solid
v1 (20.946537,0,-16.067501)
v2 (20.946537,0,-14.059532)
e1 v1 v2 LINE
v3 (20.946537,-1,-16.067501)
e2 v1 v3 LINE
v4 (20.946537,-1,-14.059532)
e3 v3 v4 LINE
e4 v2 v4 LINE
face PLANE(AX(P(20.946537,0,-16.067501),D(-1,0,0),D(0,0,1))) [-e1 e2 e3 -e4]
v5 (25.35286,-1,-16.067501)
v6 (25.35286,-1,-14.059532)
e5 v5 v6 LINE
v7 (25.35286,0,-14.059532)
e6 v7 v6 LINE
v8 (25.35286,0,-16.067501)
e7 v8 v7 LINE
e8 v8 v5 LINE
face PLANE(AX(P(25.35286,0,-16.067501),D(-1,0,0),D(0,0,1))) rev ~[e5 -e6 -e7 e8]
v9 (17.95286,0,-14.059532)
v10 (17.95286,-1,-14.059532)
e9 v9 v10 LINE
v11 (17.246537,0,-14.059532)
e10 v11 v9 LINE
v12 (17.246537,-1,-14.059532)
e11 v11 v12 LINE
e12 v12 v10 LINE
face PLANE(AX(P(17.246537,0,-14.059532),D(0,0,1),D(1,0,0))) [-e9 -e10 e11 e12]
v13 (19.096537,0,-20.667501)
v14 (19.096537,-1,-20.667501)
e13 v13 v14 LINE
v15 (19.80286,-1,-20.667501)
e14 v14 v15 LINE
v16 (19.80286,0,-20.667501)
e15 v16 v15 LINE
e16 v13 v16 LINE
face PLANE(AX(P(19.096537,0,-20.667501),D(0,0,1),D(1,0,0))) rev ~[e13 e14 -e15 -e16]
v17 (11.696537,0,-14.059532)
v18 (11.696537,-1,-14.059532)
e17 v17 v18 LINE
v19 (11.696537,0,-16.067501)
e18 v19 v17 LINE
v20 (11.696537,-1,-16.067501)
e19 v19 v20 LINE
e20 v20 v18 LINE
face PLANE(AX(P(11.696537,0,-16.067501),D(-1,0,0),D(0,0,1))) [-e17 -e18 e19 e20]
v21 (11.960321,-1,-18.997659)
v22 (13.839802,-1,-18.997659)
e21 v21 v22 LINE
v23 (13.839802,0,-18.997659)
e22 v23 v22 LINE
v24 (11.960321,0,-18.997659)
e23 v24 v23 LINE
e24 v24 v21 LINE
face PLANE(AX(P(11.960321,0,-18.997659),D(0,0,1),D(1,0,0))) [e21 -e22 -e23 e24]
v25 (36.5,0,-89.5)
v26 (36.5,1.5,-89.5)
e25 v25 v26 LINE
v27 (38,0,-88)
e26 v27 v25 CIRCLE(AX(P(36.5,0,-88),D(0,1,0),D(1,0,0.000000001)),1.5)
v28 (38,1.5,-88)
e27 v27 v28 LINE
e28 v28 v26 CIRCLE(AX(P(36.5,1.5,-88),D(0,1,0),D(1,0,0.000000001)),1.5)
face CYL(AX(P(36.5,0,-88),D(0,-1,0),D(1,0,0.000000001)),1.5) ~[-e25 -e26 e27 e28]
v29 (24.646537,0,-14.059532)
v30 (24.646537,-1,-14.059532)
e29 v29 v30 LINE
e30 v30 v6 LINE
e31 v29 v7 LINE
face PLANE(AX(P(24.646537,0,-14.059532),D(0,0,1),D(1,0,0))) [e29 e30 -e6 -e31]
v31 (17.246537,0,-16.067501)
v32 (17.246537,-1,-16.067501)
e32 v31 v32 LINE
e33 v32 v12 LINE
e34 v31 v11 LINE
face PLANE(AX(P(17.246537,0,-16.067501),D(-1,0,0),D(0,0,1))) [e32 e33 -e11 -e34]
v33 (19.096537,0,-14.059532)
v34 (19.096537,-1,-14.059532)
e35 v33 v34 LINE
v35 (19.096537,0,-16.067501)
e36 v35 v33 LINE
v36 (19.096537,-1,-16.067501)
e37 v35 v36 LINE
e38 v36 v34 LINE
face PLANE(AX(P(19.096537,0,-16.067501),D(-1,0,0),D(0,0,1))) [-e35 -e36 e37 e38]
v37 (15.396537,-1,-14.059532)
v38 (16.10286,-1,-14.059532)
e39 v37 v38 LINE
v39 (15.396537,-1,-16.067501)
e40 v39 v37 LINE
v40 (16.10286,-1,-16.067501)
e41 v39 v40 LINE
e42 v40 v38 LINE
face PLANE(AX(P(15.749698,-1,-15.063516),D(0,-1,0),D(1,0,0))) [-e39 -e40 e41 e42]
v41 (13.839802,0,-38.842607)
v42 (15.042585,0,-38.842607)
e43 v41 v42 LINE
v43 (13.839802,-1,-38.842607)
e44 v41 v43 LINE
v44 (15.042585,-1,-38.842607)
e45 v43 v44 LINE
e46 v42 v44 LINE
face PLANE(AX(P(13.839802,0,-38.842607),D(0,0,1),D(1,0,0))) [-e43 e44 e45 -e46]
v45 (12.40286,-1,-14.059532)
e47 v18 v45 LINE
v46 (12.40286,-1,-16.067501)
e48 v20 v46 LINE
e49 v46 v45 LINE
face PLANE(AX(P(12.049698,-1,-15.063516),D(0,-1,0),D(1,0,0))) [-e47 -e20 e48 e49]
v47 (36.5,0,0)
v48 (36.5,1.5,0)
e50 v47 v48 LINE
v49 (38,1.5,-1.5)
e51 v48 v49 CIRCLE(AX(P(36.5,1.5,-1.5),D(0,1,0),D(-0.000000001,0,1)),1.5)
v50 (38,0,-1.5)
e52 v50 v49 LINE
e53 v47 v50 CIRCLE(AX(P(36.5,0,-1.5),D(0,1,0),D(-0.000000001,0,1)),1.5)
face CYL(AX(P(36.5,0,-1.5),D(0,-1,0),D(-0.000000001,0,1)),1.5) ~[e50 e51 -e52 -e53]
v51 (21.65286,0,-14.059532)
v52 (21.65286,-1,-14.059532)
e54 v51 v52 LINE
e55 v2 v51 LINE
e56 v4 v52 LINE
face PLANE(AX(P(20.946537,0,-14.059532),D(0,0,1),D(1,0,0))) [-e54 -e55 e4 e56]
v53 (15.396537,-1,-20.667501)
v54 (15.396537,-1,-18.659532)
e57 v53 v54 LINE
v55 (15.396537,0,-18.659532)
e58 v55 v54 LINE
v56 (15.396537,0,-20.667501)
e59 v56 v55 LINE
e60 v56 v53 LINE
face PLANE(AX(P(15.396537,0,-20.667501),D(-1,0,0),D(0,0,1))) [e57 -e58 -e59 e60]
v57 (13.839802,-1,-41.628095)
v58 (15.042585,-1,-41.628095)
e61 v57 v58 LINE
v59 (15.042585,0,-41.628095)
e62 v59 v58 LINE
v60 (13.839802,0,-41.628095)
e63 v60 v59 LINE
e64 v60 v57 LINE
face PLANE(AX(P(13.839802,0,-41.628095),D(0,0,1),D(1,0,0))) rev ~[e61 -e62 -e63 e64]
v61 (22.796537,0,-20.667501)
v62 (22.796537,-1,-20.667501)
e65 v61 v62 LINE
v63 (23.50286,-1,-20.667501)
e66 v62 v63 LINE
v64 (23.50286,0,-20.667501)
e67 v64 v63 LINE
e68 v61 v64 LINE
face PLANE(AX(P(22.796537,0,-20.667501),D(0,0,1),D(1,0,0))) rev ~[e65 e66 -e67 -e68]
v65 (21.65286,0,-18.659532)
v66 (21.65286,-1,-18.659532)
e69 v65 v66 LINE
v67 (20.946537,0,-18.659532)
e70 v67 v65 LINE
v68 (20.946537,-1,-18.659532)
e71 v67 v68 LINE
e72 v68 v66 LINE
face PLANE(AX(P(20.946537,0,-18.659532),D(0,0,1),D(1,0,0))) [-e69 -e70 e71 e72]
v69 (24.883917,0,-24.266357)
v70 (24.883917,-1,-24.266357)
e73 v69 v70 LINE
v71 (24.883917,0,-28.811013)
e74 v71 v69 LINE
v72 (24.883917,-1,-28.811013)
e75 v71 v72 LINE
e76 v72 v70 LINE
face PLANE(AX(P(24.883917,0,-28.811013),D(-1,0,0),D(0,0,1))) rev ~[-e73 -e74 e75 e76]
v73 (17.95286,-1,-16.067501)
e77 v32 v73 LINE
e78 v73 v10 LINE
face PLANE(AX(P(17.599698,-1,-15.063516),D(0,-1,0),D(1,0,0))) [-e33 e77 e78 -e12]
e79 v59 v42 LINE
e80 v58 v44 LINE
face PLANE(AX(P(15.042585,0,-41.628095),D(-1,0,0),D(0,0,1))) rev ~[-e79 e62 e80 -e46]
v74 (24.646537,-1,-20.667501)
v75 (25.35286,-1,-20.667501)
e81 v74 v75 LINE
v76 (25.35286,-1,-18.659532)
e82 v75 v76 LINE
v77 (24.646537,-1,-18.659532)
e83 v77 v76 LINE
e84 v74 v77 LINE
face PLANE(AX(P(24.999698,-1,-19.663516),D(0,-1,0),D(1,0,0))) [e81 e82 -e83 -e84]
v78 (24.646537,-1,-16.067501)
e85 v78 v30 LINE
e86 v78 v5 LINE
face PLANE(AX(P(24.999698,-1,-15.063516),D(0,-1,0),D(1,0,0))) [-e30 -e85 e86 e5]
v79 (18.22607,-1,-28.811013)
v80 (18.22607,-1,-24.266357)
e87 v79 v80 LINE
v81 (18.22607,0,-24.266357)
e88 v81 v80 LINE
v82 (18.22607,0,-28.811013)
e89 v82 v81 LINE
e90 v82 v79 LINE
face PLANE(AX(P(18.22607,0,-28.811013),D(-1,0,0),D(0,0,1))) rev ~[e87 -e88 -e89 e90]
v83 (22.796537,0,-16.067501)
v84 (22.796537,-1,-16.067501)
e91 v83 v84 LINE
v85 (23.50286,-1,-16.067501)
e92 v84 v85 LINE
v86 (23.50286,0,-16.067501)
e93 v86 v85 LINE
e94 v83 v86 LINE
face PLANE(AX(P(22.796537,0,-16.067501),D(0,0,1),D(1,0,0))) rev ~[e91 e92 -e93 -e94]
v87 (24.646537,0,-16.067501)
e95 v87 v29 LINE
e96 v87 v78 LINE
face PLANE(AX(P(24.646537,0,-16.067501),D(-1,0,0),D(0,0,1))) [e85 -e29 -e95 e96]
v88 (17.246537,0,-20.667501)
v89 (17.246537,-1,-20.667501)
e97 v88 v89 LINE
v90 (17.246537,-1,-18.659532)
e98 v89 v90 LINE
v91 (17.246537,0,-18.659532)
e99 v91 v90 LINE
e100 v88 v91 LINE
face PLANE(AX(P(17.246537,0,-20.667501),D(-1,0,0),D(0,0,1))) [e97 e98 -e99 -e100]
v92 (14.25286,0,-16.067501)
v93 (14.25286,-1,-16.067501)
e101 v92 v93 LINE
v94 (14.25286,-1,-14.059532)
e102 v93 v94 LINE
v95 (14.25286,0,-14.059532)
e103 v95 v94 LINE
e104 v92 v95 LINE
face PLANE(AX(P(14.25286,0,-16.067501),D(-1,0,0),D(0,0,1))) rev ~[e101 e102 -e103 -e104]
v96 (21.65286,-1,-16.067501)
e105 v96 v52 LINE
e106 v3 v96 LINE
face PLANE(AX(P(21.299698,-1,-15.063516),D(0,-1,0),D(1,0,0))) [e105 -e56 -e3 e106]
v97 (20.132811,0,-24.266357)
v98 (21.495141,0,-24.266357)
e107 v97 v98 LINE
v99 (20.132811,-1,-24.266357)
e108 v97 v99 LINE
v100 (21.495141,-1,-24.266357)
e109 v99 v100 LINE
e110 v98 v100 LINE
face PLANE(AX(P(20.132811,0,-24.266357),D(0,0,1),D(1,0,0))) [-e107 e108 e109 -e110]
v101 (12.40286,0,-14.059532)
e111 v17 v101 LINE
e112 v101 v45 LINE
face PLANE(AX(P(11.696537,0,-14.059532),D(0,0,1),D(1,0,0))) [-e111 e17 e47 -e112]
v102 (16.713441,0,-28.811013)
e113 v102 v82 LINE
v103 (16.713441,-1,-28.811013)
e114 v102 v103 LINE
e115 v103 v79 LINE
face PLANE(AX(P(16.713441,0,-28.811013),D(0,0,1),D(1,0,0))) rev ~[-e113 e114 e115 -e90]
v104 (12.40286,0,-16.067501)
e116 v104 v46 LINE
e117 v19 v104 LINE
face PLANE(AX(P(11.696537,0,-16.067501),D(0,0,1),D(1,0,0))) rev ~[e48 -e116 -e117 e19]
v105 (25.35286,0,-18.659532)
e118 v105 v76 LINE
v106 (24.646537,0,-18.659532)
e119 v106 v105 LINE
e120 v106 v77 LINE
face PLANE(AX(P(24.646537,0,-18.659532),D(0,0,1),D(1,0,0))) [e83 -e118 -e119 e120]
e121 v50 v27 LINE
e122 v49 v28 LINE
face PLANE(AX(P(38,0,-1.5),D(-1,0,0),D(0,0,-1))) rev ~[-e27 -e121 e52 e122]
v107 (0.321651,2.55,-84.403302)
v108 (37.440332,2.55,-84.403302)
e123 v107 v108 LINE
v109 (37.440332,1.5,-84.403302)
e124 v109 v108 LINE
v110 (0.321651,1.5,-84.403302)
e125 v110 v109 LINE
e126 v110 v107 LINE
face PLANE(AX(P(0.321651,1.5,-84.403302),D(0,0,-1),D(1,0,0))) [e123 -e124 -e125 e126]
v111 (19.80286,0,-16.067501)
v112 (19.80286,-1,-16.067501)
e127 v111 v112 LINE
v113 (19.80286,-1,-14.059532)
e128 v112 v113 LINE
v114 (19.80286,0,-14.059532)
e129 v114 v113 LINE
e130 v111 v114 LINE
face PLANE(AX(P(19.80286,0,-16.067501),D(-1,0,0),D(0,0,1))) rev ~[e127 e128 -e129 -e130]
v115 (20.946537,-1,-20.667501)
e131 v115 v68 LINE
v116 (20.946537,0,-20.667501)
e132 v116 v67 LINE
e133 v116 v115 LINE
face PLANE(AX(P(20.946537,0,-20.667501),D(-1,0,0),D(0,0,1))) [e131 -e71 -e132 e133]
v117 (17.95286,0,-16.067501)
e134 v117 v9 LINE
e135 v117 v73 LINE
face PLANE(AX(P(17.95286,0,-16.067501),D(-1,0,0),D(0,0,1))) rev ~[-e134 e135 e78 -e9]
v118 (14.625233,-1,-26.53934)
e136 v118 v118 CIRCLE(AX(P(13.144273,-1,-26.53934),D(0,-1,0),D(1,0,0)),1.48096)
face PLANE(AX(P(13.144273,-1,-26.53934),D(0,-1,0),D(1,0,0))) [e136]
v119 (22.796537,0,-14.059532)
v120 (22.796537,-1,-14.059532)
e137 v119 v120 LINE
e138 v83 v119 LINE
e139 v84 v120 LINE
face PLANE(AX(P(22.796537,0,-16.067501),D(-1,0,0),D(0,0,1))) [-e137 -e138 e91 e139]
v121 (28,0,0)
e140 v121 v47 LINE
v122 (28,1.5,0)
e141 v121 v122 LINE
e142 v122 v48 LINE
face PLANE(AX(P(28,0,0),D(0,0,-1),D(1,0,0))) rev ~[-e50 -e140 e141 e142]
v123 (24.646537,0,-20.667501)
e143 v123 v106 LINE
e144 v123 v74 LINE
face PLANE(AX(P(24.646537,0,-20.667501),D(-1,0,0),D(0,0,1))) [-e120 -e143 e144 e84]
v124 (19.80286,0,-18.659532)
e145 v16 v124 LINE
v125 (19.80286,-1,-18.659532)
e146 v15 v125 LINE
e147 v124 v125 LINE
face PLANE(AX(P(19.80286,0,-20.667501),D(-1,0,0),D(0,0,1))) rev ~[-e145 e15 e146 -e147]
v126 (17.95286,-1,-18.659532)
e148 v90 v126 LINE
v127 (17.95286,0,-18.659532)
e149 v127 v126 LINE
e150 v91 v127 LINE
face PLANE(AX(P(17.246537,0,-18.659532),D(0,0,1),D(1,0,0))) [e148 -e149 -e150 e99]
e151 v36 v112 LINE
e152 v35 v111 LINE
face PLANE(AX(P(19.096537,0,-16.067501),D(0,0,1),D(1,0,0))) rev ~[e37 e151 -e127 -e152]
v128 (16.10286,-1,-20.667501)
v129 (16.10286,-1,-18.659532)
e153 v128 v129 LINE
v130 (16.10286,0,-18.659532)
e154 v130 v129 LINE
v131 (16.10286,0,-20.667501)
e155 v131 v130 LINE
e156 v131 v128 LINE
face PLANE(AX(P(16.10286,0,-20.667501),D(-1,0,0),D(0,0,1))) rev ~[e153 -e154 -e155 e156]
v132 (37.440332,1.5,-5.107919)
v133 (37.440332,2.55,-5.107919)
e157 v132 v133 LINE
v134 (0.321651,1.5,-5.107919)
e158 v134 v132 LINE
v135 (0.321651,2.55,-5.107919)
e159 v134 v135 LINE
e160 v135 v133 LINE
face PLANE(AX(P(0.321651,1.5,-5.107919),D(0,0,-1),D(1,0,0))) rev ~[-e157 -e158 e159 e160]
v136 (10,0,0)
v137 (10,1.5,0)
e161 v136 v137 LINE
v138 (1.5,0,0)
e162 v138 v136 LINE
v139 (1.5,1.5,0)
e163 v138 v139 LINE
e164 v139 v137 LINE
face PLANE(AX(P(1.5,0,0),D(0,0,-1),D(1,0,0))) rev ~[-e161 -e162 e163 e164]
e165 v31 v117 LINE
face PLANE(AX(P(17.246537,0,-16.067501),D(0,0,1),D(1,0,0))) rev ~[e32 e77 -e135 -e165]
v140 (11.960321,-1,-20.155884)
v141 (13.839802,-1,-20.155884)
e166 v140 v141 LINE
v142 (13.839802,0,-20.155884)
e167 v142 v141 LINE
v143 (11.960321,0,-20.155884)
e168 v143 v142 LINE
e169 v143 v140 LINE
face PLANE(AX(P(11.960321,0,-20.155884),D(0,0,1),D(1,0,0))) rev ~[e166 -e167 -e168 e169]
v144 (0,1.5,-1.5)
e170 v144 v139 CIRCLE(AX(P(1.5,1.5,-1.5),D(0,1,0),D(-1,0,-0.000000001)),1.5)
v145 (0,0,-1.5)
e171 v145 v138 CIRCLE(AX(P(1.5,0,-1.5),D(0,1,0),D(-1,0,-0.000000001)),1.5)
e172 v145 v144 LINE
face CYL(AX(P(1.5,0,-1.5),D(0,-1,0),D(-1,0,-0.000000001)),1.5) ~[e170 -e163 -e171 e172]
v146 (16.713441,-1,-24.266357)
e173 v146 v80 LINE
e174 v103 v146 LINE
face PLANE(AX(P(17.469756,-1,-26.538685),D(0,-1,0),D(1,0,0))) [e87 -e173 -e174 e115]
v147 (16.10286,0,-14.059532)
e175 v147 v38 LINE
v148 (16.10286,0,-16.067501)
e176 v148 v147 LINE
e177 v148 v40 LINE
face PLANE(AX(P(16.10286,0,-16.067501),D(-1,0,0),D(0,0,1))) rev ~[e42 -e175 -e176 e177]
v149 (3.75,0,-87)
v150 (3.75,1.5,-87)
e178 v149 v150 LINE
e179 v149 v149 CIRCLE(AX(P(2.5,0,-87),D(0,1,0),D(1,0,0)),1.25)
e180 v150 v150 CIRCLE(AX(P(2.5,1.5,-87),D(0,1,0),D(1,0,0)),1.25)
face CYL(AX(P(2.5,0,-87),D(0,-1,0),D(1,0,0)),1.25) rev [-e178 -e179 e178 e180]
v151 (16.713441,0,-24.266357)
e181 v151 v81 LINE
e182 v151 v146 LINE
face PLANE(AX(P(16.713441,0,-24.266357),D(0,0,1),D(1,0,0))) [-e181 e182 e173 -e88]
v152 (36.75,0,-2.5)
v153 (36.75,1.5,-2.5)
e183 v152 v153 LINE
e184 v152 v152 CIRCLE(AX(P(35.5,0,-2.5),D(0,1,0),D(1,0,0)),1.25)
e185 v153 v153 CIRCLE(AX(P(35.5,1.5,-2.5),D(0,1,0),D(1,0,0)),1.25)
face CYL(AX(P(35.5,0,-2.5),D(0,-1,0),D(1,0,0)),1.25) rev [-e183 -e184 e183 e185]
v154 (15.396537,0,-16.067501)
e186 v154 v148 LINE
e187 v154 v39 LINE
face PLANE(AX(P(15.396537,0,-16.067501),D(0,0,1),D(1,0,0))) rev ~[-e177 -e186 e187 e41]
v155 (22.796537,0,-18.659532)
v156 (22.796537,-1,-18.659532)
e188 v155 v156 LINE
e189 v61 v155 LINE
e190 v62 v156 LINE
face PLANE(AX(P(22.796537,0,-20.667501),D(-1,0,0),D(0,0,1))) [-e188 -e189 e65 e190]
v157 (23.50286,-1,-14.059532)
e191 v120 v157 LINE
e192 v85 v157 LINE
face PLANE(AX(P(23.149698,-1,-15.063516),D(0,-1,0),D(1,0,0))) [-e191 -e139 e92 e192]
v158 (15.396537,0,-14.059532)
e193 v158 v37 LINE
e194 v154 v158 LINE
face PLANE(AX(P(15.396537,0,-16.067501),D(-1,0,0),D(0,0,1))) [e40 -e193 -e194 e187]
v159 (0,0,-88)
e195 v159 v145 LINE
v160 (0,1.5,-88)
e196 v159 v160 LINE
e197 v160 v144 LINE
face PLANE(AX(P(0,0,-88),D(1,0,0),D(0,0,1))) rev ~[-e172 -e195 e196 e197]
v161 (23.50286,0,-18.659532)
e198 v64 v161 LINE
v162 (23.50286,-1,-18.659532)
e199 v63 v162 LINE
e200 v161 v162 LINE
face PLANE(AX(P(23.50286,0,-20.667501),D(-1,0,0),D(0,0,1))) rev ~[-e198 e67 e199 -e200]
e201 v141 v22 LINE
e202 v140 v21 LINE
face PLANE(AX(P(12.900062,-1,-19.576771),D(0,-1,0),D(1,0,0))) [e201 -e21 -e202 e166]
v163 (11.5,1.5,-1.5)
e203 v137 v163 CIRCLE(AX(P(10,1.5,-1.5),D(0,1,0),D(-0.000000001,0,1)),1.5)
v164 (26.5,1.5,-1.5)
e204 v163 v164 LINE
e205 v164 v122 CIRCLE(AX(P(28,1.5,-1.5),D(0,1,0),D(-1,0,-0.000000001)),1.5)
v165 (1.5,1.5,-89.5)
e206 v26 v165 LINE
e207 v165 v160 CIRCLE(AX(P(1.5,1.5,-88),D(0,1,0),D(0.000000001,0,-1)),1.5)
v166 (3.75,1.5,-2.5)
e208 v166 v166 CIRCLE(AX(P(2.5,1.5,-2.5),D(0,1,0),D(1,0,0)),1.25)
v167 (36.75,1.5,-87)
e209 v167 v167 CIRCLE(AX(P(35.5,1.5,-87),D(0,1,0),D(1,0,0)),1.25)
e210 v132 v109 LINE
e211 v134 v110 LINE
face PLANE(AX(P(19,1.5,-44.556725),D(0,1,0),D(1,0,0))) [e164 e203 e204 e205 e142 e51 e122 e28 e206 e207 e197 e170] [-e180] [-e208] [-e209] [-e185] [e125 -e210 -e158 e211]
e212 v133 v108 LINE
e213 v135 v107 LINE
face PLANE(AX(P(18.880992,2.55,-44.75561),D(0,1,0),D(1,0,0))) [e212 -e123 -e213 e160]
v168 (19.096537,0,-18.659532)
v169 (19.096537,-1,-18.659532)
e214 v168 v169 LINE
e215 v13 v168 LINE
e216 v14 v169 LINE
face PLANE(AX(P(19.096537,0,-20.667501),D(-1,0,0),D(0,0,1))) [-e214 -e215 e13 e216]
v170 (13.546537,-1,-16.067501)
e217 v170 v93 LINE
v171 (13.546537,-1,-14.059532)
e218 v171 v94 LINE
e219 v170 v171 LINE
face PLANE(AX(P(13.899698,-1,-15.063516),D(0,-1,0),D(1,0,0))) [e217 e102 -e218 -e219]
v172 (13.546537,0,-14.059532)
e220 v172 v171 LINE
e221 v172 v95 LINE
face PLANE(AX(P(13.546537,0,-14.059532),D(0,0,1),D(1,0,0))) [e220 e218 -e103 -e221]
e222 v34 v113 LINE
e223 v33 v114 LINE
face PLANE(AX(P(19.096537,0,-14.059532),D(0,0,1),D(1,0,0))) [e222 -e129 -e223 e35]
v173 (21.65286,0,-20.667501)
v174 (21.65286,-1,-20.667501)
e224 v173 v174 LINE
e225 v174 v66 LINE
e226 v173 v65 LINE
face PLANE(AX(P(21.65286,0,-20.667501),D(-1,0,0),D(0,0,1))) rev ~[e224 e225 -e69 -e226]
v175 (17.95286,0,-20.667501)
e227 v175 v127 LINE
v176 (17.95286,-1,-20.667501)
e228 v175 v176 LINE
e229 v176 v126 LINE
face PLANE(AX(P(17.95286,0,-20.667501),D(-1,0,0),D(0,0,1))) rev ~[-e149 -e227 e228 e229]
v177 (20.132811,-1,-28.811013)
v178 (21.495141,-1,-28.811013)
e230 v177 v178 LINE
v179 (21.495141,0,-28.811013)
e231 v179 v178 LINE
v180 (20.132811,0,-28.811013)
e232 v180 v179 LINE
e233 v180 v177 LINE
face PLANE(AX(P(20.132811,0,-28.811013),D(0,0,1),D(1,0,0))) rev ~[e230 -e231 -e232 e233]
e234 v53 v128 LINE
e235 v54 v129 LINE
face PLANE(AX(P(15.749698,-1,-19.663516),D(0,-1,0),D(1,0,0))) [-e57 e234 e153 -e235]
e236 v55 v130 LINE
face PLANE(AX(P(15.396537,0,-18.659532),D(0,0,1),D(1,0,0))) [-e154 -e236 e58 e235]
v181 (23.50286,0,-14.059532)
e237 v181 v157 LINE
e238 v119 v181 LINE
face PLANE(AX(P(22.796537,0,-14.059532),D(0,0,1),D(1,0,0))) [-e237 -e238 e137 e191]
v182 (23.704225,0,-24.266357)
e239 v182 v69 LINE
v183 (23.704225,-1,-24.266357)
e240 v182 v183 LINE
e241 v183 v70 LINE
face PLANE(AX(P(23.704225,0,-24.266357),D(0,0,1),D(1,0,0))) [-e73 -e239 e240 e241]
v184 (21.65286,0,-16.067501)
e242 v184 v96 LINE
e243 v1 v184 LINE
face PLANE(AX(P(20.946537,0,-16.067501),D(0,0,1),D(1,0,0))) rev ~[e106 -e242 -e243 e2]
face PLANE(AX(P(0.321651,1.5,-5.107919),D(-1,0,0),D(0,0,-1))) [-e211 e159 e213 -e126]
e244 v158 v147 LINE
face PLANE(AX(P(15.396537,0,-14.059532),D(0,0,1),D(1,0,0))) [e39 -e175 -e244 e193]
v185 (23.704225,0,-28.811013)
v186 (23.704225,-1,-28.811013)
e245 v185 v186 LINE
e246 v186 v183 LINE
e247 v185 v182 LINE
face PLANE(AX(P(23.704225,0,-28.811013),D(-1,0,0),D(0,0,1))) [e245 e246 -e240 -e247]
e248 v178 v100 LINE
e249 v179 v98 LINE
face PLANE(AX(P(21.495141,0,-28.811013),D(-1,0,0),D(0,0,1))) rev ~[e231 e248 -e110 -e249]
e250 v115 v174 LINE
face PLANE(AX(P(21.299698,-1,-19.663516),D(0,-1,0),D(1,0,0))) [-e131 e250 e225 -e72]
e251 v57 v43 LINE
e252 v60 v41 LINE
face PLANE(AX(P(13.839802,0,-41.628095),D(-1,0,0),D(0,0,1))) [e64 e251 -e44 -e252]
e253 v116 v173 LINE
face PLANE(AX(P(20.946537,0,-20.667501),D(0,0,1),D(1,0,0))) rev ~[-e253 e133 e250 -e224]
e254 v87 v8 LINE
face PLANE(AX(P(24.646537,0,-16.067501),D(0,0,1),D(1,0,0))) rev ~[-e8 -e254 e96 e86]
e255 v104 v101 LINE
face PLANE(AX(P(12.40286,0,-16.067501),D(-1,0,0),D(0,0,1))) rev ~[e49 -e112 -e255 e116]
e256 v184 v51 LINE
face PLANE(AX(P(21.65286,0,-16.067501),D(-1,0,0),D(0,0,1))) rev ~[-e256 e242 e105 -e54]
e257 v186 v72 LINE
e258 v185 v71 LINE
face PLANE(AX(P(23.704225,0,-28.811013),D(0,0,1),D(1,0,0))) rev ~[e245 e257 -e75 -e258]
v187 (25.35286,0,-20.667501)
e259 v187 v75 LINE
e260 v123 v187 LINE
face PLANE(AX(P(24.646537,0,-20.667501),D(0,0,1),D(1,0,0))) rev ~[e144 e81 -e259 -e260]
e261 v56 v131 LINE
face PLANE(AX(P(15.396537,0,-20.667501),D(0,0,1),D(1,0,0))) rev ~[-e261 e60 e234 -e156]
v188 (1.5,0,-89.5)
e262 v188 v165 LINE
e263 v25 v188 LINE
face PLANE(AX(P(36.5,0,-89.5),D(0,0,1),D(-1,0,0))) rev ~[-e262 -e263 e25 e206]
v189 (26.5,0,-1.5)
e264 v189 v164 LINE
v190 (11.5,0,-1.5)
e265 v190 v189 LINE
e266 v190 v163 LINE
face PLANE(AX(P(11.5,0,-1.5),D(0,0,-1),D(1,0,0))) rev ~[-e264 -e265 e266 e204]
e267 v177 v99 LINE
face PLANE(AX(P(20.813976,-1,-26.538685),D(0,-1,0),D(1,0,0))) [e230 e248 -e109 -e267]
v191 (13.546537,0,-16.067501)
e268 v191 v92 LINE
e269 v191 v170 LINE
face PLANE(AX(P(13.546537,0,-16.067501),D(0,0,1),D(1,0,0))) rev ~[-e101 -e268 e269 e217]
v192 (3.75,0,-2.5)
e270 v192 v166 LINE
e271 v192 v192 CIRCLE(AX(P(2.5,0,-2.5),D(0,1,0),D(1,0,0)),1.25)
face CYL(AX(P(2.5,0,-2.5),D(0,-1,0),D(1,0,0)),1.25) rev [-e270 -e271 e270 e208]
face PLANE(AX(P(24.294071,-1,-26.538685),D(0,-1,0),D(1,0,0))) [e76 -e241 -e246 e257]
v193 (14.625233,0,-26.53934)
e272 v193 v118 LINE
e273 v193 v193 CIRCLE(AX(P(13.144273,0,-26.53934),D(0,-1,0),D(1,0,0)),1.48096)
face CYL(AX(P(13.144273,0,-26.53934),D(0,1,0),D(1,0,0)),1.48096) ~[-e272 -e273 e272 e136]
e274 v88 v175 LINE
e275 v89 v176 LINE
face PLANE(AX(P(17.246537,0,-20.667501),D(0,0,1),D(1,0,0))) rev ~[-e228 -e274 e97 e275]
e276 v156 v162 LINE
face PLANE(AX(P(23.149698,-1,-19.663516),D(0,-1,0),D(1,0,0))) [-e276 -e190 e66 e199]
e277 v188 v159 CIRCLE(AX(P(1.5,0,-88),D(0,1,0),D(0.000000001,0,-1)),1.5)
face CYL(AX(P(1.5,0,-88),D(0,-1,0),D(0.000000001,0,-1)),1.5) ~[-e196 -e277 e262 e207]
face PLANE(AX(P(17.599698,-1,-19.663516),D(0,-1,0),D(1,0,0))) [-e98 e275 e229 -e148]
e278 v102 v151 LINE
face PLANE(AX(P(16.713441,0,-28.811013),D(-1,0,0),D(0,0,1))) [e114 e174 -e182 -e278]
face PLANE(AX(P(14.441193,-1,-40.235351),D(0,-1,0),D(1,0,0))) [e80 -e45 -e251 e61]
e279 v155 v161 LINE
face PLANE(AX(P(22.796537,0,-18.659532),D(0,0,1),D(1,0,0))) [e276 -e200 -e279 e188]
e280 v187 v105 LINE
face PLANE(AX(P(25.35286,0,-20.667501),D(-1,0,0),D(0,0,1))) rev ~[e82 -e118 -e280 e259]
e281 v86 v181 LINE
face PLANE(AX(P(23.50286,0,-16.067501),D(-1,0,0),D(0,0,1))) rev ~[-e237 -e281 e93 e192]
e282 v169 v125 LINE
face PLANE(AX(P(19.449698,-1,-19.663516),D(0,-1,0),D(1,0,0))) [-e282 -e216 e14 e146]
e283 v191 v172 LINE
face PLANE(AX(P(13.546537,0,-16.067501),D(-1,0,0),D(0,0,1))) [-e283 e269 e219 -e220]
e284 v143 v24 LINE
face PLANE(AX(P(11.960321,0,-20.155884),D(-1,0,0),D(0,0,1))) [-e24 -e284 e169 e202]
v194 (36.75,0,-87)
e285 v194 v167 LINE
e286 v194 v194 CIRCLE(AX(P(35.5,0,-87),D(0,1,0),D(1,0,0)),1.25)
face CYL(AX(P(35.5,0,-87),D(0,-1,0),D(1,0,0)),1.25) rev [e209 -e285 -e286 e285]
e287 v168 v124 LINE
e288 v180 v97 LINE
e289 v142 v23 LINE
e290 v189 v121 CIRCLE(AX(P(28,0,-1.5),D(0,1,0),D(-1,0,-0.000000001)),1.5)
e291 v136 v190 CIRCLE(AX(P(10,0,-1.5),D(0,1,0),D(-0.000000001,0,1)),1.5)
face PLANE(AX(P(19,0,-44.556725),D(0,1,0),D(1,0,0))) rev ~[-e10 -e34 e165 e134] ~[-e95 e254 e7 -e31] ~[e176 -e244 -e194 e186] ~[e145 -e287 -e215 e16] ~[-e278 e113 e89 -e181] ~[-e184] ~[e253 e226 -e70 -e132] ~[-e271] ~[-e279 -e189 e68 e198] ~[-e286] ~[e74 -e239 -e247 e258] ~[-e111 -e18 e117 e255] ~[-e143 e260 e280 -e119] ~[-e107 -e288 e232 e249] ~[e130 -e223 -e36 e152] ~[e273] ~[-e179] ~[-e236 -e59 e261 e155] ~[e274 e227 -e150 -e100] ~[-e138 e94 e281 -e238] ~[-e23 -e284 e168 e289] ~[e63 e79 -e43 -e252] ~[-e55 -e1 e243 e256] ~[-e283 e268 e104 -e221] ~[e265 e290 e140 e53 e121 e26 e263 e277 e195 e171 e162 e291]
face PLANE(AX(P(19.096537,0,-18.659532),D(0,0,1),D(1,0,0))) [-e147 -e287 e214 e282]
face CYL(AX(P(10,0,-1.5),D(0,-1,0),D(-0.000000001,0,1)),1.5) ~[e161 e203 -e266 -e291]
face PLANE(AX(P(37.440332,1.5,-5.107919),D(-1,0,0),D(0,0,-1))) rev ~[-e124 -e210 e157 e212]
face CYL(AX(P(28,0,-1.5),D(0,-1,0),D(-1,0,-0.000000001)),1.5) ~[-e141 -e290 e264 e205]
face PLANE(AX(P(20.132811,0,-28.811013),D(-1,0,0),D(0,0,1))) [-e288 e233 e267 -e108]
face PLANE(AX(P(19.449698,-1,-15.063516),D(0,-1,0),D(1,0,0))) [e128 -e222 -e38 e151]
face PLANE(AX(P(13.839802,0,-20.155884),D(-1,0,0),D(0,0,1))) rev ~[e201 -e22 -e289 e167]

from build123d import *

# Parameters (mm, degrees)
SKETCH1_R           = 1.25
BOSS_EXTRUDE1_DEPTH = 1.5
SKETCH2_W           = 37.118680969
SKETCH2_H           = 79.295382989
BOSS_EXTRUDE2_DEPTH = 1.05
SKETCH3_R           = 1.480960071
SKETCH3_W           = 0.706323155
SKETCH3_H           = 2.007969185
SKETCH3_W_2         = 1.202782264
SKETCH3_H_2         = 2.785488108
SKETCH3_W_3         = 1.512629418
SKETCH3_H_3         = 4.544655772
SKETCH3_W_4         = 1.362329437
SKETCH3_W_5         = 1.179692139
SKETCH3_W_6         = 1.879481301
SKETCH3_H_4         = 1.158224536
BOSS_EXTRUDE3_DEPTH = 1


with BuildPart() as part:
    # Sketch1 → Boss-Extrude1 (new body)
    with BuildSketch(Plane(origin=(0, 0, 0), x_dir=(1, 0, 0), z_dir=(0, 1, 0))):
        with BuildLine():
            Line((1.5, 0), (10, 0))
            ThreePointArc((10, 0), (11.060660172, 0.439339828), (11.5, 1.5))
            Line((11.5, 1.5), (26.5, 1.5))
            ThreePointArc((26.5, 1.5), (26.939339828, 0.439339828), (28, 0))
            Line((28, 0), (36.5, 0))
            ThreePointArc((36.5, 0), (37.560660172, 0.439339828), (38, 1.5))
            Line((38, 1.5), (38, 88))
            ThreePointArc((38, 88), (37.560660172, 89.060660172), (36.5, 89.5))
            Line((36.5, 89.5), (1.5, 89.5))
            ThreePointArc((1.5, 89.5), (0.439339828, 89.060660172), (0, 88))
            Line((0, 88), (0, 1.5))
            ThreePointArc((0, 1.5), (0.439339828, 0.439339828), (1.5, 0))
        make_face()
        with Locations((2.5, 2.5)):
            Circle(SKETCH1_R, mode=Mode.SUBTRACT)
        with Locations((35.5, 2.5)):
            Circle(SKETCH1_R, mode=Mode.SUBTRACT)
        with Locations((35.5, 87)):
            Circle(SKETCH1_R, mode=Mode.SUBTRACT)
        with Locations((2.5, 87)):
            Circle(SKETCH1_R, mode=Mode.SUBTRACT)
    extrude(amount=BOSS_EXTRUDE1_DEPTH)

    # Sketch2 → Boss-Extrude2 (add)
    with BuildSketch(Plane(origin=(0, 1.5, 0), x_dir=(1, 0, 0), z_dir=(0, 1, 0))):
        with Locations((18.880991901, 44.755610098)):
            Rectangle(SKETCH2_W, SKETCH2_H)
    extrude(amount=BOSS_EXTRUDE2_DEPTH)

    # Sketch3 → Boss-Extrude3 (add)
    with BuildSketch(Plane.XZ):
        with Locations((13.144272763, -26.539340378)):
            Circle(SKETCH3_R)
        with Locations((23.149698331, -19.663516122)):
            Rectangle(SKETCH3_W, SKETCH3_H)
        with Locations((14.4411934, -40.235350725)):
            Rectangle(SKETCH3_W_2, SKETCH3_H_2)
        with Locations((17.469755638, -26.538684778)):
            Rectangle(SKETCH3_W_3, SKETCH3_H_3)
        with Locations((20.813975953, -26.538684778)):
            Rectangle(SKETCH3_W_4, SKETCH3_H_3)
        with Locations((24.294071036, -26.538684778)):
            Rectangle(SKETCH3_W_5, SKETCH3_H_3)
        with Locations((24.999698331, -19.663516122)):
            Rectangle(SKETCH3_W, SKETCH3_H)
        with Locations((21.299698331, -19.663516122)):
            Rectangle(SKETCH3_W, SKETCH3_H)
        with Locations((19.449698331, -19.663516122)):
            Rectangle(SKETCH3_W, SKETCH3_H)
        with Locations((17.599698331, -19.663516122)):
            Rectangle(SKETCH3_W, SKETCH3_H)
        with Locations((15.749698331, -19.663516122)):
            Rectangle(SKETCH3_W, SKETCH3_H)
        with Locations((12.900061618, -19.576771436)):
            Rectangle(SKETCH3_W_6, SKETCH3_H_4)
        with Locations((23.149698331, -15.063516122)):
            Rectangle(SKETCH3_W, SKETCH3_H)
        with Locations((21.299698331, -15.063516122)):
            Rectangle(SKETCH3_W, SKETCH3_H)
        with Locations((19.449698331, -15.063516122)):
            Rectangle(SKETCH3_W, SKETCH3_H)
        with Locations((17.599698331, -15.063516122)):
            Rectangle(SKETCH3_W, SKETCH3_H)
        with Locations((15.749698331, -15.063516122)):
            Rectangle(SKETCH3_W, SKETCH3_H)
        with Locations((13.899698331, -15.063516122)):
            Rectangle(SKETCH3_W, SKETCH3_H)
        with Locations((12.049698331, -15.063516122)):
            Rectangle(SKETCH3_W, SKETCH3_H)
        with Locations((24.999698331, -15.063516122)):
            Rectangle(SKETCH3_W, SKETCH3_H)
    extrude(amount=BOSS_EXTRUDE3_DEPTH)


solid = part.part
